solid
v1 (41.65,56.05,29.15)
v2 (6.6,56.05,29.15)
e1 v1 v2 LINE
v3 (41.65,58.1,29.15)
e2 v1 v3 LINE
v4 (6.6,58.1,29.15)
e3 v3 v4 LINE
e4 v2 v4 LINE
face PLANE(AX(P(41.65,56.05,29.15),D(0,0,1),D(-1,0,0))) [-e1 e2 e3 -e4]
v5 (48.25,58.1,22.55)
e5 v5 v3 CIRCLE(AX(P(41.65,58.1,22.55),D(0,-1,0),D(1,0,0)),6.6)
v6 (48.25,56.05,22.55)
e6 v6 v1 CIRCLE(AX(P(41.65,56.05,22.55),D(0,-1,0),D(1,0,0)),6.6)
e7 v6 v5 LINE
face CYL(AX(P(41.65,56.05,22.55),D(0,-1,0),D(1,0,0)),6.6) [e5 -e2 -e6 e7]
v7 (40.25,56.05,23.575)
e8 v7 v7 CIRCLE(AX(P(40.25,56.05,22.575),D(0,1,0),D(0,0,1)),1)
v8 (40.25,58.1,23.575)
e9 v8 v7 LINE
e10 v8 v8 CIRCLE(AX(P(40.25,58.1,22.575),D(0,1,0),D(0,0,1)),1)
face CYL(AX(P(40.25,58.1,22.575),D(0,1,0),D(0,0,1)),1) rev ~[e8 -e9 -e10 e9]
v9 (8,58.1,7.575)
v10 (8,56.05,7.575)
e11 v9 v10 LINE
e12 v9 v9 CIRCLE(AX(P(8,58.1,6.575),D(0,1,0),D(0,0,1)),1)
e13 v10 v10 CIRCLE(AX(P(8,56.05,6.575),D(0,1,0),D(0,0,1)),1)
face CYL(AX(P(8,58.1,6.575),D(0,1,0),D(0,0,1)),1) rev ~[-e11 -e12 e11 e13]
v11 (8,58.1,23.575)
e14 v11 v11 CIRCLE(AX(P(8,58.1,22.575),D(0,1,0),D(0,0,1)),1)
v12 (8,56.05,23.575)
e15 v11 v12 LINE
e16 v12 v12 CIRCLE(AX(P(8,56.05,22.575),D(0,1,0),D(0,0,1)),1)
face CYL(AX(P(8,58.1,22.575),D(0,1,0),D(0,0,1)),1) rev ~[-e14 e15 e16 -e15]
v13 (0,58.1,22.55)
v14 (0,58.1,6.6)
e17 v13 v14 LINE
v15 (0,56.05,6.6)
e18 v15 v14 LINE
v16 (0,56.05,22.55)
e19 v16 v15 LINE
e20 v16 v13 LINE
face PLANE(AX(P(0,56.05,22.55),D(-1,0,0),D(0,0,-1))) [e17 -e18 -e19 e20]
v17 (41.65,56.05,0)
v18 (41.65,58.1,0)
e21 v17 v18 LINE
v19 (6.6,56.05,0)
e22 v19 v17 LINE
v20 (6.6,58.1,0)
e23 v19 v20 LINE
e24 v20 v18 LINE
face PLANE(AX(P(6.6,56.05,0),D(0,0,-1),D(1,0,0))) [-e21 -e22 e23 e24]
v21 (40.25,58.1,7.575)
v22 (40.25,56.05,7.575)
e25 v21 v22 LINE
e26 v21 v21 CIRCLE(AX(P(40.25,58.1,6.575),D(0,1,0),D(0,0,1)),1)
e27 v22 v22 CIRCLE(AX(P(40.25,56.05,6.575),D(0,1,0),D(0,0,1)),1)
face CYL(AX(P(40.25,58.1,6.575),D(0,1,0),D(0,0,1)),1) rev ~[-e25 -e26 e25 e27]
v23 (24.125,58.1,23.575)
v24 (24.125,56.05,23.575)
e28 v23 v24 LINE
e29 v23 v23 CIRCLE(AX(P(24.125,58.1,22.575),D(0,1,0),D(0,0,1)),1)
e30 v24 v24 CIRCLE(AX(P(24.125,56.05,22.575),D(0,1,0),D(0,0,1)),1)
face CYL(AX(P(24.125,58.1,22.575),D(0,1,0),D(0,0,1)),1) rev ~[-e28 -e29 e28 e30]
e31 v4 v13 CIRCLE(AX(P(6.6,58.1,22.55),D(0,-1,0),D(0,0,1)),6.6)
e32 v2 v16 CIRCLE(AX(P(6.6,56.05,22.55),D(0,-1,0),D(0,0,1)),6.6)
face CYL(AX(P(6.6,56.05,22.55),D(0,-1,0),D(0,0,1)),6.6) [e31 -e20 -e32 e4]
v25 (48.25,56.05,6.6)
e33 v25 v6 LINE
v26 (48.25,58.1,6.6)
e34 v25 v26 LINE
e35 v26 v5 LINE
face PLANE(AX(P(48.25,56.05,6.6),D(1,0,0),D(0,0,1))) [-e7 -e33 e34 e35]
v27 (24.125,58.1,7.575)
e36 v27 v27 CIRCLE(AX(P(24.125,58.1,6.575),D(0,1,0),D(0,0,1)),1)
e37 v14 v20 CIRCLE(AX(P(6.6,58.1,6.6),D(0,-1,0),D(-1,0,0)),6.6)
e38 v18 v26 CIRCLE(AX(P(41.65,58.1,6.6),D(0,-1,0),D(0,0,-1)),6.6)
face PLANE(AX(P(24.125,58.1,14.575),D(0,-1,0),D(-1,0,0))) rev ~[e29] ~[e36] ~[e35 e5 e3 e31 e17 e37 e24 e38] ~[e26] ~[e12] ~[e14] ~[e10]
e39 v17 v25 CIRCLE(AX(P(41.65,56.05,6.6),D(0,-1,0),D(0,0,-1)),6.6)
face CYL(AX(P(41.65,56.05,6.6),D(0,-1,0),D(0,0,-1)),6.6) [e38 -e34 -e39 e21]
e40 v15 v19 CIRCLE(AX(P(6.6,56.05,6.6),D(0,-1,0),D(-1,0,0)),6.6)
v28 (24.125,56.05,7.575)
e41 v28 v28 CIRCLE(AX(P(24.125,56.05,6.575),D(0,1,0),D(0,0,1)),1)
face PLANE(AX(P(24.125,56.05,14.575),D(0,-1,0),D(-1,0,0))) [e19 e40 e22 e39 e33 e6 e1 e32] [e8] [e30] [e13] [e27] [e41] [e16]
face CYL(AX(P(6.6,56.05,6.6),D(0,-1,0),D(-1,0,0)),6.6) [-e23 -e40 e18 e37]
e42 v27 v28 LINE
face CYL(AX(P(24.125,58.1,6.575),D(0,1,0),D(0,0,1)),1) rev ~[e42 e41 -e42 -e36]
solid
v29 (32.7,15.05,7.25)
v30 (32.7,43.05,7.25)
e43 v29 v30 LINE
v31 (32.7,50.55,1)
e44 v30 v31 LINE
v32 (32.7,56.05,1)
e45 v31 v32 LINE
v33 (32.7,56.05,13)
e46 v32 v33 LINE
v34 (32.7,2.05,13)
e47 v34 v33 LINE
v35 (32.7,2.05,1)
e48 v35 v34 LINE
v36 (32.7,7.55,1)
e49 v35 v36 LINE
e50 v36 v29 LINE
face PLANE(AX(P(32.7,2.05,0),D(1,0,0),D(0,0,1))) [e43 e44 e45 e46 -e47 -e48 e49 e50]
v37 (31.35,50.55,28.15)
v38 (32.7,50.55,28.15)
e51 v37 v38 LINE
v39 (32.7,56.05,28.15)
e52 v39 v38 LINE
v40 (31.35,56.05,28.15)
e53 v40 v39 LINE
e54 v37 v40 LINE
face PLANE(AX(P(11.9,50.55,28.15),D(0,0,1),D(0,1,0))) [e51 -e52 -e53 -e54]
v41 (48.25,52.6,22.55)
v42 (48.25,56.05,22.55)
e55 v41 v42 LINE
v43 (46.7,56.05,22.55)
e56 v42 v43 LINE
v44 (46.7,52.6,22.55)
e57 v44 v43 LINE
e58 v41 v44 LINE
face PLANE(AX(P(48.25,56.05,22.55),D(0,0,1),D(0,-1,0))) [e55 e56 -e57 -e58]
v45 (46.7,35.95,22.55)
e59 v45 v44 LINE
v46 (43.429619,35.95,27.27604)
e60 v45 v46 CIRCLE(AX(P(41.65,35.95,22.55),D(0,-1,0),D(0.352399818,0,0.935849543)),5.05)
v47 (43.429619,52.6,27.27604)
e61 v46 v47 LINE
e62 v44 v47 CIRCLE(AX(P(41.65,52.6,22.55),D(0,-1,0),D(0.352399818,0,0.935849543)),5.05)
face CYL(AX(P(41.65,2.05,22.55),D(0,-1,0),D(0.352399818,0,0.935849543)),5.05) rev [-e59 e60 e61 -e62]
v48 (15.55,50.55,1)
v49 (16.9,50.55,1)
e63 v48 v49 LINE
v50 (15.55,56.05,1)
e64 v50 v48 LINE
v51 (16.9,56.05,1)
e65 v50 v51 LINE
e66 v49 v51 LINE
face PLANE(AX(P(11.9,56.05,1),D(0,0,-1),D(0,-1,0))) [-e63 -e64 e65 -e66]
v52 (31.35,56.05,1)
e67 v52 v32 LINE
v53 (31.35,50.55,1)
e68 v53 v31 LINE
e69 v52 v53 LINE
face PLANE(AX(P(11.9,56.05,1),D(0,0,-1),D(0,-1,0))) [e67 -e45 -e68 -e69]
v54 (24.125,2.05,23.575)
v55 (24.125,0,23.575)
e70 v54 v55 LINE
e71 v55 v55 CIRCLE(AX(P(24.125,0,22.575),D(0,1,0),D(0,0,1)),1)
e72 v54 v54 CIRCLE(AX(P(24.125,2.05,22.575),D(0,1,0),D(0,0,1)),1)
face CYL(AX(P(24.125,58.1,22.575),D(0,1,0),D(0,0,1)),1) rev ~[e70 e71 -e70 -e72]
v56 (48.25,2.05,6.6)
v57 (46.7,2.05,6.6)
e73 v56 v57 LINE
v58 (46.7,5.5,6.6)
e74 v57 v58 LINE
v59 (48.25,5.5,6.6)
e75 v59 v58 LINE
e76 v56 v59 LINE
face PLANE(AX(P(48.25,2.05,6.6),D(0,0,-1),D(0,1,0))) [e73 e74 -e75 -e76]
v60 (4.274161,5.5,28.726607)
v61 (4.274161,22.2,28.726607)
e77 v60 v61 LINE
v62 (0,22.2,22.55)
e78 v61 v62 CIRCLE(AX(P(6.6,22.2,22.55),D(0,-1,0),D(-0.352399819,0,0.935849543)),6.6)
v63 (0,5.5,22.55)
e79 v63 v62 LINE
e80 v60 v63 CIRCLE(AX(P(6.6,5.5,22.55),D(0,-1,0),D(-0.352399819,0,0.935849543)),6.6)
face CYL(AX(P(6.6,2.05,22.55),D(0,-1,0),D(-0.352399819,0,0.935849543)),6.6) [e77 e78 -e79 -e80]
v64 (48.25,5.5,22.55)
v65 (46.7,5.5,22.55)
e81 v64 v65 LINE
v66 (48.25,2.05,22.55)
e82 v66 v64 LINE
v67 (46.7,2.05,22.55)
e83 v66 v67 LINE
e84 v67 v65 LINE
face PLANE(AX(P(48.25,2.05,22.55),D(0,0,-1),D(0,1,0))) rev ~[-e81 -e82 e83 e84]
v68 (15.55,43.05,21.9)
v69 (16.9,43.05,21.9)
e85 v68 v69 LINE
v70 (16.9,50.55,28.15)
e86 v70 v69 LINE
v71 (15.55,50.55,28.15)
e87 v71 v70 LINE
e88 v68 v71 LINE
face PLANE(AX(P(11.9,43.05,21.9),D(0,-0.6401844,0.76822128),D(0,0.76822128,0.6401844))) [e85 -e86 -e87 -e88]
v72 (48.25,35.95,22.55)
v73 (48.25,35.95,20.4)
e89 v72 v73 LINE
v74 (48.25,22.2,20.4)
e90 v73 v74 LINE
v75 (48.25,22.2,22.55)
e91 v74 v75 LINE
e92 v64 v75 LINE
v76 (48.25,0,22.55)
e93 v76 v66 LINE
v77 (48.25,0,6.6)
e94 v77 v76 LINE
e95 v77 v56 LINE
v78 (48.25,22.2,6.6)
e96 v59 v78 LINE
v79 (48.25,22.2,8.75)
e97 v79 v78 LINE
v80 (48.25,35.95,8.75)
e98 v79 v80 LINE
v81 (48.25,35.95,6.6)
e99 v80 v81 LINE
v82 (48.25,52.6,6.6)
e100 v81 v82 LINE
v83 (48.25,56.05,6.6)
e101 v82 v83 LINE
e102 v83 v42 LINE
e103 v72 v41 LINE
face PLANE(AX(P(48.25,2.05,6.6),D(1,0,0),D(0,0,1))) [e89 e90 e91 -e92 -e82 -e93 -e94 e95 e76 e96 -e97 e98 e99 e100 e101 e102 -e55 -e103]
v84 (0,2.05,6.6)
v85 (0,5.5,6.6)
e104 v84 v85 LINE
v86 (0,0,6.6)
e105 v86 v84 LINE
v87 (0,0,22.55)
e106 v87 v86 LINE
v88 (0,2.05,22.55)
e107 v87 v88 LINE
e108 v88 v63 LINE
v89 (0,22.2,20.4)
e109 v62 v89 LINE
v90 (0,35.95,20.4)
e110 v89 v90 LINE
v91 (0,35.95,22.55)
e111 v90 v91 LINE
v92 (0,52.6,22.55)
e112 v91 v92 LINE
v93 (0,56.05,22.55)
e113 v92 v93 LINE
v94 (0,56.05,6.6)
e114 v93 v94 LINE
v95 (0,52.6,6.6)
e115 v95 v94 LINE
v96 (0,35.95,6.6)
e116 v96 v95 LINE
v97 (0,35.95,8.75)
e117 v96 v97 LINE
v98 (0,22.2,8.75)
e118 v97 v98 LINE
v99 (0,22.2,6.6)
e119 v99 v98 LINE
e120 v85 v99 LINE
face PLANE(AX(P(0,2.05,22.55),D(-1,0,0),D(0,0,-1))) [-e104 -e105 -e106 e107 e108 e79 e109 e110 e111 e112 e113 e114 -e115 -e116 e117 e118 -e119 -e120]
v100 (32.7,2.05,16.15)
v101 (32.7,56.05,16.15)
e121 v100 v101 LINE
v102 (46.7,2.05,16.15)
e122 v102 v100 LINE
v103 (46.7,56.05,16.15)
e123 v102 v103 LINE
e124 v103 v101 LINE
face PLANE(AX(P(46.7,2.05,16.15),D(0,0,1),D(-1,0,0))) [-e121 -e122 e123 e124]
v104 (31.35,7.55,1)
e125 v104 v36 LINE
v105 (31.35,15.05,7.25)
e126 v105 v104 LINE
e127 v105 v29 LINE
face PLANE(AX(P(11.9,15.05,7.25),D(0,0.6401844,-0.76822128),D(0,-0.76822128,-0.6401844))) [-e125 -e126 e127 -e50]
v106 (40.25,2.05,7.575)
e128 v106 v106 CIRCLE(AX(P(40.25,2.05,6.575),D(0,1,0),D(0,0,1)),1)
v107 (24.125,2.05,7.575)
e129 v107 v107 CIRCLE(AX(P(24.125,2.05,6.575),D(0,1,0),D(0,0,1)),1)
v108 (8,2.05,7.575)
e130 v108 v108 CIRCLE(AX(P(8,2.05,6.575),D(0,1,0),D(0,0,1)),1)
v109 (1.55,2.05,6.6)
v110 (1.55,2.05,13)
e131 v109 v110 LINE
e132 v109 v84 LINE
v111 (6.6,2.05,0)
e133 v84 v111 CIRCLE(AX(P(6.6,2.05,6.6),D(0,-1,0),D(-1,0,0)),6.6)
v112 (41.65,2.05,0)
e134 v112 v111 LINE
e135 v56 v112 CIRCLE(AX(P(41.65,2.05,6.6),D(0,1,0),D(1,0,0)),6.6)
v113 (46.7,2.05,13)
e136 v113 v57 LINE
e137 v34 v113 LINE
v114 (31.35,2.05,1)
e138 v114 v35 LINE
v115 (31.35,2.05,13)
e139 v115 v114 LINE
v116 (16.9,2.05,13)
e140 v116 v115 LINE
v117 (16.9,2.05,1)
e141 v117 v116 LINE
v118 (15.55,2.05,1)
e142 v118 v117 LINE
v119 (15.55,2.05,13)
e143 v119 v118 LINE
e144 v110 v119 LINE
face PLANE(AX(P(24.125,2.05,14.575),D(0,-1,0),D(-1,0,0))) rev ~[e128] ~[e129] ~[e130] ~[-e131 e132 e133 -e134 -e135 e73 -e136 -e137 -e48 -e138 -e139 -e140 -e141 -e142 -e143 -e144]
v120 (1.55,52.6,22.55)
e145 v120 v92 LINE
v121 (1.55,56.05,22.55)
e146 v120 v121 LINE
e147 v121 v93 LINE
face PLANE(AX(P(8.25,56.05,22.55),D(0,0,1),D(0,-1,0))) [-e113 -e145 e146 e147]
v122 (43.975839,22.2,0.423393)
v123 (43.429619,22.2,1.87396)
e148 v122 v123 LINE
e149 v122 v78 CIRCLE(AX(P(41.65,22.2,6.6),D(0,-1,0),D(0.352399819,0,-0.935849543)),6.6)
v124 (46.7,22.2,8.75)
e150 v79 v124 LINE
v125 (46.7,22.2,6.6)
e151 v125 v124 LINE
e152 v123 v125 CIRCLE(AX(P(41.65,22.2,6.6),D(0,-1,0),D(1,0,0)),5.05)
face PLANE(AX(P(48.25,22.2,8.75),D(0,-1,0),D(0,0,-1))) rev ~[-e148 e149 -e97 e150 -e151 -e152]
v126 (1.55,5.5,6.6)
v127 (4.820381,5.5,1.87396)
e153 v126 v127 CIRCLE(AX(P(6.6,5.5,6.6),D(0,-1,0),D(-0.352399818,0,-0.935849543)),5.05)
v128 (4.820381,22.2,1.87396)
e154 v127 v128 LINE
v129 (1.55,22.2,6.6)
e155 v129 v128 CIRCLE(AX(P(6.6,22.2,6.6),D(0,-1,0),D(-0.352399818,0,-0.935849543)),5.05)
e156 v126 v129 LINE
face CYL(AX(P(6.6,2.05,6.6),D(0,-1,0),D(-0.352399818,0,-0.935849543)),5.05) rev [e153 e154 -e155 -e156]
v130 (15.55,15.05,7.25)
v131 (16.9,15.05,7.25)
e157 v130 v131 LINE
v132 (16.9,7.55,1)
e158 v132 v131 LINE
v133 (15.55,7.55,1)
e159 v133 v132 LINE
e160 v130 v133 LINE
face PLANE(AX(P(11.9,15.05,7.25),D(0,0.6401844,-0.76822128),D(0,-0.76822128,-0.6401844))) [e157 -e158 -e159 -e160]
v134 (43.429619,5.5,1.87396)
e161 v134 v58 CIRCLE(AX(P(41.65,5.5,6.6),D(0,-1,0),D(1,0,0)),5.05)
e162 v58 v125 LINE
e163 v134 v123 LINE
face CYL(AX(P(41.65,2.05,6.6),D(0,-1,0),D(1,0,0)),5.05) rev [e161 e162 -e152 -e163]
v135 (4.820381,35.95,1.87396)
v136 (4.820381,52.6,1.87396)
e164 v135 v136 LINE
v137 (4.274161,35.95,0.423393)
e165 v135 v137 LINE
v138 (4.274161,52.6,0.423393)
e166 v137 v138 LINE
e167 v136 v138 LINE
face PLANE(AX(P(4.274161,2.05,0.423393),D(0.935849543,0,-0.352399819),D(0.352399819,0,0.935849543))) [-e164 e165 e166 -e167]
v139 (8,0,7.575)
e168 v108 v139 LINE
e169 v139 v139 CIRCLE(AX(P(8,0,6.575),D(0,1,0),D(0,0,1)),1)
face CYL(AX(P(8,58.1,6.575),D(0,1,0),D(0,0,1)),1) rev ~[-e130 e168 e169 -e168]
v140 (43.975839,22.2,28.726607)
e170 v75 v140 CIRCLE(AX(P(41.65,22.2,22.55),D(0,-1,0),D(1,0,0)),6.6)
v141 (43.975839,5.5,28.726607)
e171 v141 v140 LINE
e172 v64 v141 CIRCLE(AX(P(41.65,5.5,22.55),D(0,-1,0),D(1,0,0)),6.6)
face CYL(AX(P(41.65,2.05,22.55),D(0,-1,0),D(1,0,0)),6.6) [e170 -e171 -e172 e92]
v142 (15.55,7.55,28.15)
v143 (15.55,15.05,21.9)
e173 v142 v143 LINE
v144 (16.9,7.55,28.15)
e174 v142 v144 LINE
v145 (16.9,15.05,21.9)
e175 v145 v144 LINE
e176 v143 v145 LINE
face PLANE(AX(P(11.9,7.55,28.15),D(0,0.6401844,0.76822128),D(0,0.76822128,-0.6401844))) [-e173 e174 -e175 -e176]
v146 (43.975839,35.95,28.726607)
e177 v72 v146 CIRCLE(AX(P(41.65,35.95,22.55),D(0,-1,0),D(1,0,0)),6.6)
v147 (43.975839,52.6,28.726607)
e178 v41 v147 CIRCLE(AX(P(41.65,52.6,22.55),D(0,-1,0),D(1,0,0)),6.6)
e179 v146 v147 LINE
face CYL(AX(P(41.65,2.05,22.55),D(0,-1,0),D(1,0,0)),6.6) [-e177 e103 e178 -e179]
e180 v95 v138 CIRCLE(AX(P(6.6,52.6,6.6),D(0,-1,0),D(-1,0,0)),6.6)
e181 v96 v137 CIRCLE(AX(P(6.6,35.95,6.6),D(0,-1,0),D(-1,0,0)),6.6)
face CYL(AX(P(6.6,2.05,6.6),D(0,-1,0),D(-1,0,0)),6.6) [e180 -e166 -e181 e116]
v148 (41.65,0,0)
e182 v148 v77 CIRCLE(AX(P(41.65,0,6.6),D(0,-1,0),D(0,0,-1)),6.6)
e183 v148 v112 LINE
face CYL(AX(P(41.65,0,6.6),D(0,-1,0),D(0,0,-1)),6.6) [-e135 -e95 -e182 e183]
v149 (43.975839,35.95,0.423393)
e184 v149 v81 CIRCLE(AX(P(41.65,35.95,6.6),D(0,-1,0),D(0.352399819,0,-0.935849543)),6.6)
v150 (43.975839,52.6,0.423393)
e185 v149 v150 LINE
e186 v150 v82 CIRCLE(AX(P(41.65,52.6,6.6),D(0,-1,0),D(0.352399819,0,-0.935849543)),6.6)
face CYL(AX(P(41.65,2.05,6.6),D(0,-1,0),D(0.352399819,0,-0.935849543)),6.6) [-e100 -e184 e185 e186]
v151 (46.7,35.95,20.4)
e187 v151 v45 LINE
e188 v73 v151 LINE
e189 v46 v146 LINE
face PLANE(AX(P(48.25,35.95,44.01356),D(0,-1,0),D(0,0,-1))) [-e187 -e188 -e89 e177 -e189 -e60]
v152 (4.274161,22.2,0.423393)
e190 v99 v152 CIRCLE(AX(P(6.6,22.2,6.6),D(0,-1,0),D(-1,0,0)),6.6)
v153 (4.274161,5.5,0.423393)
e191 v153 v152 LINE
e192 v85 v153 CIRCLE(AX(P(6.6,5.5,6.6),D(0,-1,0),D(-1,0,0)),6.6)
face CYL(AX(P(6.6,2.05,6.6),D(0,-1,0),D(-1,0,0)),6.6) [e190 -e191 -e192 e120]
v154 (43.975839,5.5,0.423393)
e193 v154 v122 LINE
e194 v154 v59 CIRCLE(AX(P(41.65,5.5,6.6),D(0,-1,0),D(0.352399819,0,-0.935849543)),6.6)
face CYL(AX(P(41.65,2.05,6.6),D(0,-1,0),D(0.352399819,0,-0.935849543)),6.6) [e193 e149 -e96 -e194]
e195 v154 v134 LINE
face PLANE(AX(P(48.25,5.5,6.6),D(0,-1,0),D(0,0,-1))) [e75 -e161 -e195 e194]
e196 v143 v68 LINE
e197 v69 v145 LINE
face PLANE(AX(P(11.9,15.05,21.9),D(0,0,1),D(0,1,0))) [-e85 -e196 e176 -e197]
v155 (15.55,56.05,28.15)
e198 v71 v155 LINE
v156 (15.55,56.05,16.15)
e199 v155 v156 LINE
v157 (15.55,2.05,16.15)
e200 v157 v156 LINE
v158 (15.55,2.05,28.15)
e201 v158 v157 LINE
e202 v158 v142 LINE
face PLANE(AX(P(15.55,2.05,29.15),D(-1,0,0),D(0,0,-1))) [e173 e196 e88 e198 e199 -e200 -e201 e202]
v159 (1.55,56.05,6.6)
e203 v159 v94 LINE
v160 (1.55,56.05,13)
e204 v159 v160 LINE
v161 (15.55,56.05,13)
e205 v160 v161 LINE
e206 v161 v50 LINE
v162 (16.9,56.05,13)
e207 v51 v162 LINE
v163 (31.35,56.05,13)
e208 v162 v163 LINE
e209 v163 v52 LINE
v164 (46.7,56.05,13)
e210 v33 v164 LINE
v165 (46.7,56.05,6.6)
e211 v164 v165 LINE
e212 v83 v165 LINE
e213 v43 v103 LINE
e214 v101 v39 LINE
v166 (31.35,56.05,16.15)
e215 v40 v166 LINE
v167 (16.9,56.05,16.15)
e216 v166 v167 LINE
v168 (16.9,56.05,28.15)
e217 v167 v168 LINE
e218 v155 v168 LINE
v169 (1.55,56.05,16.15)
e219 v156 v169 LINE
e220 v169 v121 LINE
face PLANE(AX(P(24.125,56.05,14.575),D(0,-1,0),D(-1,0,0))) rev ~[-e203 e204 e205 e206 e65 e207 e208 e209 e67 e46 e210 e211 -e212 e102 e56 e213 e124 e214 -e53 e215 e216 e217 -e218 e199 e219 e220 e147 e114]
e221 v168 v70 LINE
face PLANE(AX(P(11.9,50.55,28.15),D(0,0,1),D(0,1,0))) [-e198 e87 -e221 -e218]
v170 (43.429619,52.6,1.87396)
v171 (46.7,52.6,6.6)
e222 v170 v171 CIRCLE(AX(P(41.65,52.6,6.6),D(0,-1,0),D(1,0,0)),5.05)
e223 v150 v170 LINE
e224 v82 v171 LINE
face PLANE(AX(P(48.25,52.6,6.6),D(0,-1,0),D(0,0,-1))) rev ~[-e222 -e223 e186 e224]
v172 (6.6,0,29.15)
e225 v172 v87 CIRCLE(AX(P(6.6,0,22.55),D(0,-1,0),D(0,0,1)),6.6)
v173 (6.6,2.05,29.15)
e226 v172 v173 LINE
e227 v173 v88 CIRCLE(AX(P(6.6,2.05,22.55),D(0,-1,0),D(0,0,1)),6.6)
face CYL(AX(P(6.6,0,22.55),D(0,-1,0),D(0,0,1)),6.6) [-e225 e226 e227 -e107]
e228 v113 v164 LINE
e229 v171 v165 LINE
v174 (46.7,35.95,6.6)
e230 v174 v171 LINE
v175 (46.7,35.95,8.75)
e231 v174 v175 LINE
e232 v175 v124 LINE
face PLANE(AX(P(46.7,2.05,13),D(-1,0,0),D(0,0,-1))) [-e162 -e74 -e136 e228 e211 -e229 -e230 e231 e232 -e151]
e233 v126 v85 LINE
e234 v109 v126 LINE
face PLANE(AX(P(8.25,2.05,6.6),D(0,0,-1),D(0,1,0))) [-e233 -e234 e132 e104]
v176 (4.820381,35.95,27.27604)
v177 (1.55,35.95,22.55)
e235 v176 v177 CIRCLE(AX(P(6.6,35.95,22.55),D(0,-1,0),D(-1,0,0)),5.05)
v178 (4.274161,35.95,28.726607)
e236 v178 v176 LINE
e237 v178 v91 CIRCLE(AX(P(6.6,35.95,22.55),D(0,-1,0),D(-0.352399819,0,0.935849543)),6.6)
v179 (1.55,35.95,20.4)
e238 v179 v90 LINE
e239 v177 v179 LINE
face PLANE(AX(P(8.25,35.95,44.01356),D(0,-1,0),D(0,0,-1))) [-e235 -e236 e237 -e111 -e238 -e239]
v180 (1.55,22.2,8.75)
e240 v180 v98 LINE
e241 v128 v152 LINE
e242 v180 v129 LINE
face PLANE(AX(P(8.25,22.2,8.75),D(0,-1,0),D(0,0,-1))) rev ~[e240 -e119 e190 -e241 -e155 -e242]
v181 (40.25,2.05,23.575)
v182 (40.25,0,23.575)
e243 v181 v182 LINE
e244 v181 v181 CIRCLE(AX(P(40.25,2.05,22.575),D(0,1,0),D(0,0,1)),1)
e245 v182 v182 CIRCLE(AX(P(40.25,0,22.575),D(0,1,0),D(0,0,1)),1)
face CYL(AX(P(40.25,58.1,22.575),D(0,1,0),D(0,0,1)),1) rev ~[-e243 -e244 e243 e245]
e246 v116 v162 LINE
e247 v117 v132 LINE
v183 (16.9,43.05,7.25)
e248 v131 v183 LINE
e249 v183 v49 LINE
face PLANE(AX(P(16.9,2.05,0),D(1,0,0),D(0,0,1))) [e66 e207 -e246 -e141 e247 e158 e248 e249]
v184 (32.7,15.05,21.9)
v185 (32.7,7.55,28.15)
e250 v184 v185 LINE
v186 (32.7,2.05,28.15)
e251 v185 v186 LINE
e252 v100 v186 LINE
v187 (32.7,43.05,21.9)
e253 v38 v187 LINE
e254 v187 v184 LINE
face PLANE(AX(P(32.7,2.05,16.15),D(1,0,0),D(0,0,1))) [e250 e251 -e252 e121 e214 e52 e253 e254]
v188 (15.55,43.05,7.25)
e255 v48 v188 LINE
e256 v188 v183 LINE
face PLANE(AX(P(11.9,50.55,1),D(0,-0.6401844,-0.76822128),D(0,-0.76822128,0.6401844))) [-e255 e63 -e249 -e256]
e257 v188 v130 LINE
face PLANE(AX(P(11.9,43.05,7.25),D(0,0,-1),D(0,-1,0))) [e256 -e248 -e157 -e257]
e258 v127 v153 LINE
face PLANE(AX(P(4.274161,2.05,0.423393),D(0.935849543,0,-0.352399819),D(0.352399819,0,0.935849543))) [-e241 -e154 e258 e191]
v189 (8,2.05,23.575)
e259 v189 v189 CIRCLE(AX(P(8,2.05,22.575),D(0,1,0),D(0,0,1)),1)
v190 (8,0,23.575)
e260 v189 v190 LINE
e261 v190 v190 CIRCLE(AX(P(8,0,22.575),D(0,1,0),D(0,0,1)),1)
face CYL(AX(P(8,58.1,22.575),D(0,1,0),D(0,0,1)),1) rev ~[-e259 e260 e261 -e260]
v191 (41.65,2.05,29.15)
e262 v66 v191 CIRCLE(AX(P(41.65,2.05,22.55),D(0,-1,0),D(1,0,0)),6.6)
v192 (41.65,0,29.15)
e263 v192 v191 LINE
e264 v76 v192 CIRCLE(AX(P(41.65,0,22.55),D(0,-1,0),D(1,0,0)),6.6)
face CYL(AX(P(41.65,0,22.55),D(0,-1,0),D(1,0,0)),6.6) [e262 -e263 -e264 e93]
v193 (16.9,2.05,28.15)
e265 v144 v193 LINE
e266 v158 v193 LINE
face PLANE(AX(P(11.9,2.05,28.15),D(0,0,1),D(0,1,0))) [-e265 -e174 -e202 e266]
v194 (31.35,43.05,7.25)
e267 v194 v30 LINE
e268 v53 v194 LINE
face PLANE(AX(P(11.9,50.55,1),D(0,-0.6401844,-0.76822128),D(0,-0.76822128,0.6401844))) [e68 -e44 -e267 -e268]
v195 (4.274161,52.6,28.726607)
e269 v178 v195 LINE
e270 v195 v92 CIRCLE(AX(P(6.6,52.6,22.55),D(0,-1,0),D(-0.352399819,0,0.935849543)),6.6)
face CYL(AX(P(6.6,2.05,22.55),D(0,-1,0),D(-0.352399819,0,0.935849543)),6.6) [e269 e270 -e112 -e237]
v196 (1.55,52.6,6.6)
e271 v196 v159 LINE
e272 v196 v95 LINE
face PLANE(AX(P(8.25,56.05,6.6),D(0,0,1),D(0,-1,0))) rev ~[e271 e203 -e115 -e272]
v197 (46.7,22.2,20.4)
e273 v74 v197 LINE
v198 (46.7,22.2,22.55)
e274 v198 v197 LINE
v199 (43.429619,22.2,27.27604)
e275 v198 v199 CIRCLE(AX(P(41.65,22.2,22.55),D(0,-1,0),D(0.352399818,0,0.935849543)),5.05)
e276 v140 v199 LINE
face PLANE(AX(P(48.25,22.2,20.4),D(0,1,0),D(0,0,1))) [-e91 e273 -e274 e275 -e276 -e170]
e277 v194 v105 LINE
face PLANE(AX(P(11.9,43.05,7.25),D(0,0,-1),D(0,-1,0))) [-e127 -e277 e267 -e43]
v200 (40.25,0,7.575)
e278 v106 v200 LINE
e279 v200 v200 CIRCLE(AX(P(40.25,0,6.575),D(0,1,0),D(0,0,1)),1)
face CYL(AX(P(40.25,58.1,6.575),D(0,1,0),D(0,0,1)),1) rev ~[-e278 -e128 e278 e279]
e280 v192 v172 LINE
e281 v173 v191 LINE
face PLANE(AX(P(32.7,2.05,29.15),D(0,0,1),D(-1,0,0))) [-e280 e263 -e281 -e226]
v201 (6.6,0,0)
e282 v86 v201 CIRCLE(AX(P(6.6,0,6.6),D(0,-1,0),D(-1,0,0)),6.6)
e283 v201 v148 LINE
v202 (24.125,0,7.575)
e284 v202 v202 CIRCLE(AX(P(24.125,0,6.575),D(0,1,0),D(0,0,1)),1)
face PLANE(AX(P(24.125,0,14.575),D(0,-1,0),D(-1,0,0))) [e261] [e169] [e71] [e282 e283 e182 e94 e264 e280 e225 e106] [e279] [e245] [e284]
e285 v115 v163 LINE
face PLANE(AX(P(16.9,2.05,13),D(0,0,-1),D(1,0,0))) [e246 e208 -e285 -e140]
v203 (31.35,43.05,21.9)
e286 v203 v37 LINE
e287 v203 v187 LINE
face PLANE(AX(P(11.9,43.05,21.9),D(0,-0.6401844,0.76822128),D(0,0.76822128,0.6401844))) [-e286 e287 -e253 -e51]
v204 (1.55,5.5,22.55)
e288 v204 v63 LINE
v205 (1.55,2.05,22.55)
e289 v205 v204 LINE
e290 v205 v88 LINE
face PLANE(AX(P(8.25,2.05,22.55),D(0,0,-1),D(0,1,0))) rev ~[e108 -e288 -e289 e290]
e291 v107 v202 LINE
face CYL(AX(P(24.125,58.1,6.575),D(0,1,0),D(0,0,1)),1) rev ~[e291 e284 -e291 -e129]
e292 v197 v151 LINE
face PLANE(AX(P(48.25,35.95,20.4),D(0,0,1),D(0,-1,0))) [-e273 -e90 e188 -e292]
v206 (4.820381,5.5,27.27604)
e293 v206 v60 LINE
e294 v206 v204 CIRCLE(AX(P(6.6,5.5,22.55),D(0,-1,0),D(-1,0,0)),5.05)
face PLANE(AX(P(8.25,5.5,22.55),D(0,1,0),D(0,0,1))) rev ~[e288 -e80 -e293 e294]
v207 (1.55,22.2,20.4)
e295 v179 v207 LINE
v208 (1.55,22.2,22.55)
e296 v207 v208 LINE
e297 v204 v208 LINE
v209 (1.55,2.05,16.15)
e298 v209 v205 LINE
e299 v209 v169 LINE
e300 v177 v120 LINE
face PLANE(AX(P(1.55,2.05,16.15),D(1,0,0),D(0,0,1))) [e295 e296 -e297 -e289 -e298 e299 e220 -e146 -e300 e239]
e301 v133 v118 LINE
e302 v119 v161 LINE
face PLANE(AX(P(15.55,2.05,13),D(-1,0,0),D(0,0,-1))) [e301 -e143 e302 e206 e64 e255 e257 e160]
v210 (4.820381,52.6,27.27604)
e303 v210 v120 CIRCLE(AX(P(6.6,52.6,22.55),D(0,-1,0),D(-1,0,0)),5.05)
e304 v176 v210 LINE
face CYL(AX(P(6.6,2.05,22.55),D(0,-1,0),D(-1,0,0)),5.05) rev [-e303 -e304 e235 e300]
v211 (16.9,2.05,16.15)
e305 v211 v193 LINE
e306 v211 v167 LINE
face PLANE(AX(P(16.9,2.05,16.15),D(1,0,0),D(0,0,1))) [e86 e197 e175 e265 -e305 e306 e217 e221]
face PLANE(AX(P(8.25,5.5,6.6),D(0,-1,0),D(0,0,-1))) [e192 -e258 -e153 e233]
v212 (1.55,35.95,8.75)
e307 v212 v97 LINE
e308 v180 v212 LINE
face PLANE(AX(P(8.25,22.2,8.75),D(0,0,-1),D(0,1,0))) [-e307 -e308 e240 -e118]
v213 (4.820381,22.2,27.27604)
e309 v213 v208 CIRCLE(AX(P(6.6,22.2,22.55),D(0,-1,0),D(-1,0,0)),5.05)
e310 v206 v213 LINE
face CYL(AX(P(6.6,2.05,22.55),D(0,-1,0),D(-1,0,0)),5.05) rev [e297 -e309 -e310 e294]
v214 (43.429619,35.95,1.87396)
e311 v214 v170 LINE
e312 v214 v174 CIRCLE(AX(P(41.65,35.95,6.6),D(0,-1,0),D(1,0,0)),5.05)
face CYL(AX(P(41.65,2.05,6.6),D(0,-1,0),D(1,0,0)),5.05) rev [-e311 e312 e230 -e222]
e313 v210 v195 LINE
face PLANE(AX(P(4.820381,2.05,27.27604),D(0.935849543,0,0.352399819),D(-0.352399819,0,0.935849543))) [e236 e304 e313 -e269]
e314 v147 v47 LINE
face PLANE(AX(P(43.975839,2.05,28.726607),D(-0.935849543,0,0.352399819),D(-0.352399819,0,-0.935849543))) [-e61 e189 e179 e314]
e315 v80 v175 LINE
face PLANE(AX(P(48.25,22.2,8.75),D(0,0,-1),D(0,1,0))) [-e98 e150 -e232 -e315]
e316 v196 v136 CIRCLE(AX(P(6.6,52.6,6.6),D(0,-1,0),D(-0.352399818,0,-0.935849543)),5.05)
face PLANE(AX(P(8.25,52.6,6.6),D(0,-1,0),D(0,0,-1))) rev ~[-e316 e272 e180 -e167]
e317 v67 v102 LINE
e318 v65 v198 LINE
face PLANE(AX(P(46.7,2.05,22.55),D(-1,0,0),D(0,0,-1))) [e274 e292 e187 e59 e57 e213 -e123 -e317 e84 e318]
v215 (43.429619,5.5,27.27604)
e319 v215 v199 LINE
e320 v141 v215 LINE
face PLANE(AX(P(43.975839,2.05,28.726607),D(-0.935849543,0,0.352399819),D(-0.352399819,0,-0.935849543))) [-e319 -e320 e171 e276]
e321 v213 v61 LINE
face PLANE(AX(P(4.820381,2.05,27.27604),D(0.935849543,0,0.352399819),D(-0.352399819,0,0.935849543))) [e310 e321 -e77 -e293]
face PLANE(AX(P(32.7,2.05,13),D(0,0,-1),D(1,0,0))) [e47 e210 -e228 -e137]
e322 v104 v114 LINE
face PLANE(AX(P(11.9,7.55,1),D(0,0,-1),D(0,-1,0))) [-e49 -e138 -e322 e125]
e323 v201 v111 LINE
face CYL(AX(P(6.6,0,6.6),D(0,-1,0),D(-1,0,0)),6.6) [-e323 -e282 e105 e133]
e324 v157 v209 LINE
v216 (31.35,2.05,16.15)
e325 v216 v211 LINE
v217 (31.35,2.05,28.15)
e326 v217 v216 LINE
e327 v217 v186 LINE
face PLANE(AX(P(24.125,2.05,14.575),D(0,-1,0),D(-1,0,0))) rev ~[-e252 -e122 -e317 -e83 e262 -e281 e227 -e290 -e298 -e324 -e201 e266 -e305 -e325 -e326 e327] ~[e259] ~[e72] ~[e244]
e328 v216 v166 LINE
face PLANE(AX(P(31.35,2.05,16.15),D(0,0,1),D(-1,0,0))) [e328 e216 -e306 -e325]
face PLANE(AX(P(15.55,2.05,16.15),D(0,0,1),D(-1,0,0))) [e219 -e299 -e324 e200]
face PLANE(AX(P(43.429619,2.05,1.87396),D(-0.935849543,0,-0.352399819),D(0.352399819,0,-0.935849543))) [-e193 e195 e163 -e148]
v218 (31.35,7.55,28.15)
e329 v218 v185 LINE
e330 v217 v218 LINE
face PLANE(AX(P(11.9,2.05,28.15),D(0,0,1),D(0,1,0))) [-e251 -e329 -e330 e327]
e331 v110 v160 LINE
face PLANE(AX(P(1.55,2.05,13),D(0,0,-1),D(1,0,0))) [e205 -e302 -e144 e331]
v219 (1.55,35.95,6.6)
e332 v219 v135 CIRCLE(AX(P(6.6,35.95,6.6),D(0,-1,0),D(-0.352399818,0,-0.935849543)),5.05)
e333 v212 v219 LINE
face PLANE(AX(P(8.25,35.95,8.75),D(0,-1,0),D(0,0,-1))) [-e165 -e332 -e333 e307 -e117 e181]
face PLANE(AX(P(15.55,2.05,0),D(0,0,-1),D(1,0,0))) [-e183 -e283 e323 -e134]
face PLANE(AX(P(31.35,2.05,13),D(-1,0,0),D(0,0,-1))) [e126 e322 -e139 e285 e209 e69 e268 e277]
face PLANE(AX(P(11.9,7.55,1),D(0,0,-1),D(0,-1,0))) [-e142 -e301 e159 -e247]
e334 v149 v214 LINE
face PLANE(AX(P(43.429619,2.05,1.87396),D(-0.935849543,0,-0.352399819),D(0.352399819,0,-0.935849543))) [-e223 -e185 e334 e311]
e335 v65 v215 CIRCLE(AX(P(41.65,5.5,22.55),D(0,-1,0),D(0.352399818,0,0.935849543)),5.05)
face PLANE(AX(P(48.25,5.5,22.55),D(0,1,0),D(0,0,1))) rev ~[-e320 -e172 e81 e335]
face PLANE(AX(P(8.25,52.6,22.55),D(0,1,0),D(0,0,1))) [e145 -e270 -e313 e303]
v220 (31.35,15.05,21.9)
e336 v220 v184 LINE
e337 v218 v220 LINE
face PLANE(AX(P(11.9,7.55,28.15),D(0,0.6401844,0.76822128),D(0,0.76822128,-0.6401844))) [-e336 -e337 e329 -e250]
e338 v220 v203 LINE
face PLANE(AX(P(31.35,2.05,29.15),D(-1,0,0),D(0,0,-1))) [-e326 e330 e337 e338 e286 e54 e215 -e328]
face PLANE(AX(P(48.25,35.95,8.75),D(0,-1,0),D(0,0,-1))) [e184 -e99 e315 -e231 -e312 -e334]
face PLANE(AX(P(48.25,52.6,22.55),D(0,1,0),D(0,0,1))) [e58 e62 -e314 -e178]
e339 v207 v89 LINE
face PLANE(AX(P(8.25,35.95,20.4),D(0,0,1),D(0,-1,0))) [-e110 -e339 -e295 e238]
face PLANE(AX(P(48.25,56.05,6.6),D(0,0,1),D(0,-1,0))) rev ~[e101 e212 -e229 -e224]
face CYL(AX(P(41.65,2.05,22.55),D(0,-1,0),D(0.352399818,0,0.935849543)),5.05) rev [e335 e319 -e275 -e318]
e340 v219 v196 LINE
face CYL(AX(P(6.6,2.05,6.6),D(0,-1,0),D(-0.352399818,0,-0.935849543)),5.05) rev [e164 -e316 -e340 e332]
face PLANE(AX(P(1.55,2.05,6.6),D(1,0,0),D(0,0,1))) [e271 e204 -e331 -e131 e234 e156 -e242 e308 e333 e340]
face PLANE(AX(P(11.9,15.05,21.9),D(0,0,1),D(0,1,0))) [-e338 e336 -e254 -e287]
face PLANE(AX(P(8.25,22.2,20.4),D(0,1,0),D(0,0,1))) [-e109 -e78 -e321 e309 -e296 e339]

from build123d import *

# Parameters (mm, degrees)
BOSS_EXTRUDE1_DEPTH     = 2.05
BOSS_EXTRUDE2_DEPTH     = 54
BOSS_EXTRUDE9_START     = 56.05
BOSS_EXTRUDE9_DEPTH     = 2.05
SKETCH3_W               = 23.613559859
SKETCH3_H               = 13.75
CUT_EXTRUDE2_DEPTH      = 12.5
CUT_EXTRUDE4_START      = -40
SKETCH3_2_W             = 23.613559859
SKETCH3_2_H             = 13.75
CUT_EXTRUDE4_DEPTH      = 12.5
CUT_EXTRUDE5_DEPTH      = 22.5
CUT_EXTRUDE5_DEPTH_BACK = 5
SKETCH8_R               = 1
CUT_EXTRUDE6_DEPTH      = 85


with BuildPart() as part:
    # Sketch1 → Boss-Extrude1 (new body)
    with BuildSketch(Plane(origin=(0, 0, 0), x_dir=(1, 0, 0), z_dir=(0, 1, 0))):
        with BuildLine():
            Line((6.6, 0), (41.65, 0))
            ThreePointArc((41.65, 0), (46.316904756, -1.933095244), (48.25, -6.6))
            Line((48.25, -6.6), (48.25, -22.55))
            ThreePointArc((48.25, -22.55), (46.316904756, -27.216904756), (41.65, -29.15))
            Line((41.65, -29.15), (6.6, -29.15))
            ThreePointArc((6.6, -29.15), (1.933095244, -27.216904756), (0, -22.55))
            Line((0, -22.55), (0, -6.6))
            ThreePointArc((0, -6.6), (1.933095244, -1.933095244), (6.6, 0))
        make_face()
    extrude(amount=BOSS_EXTRUDE1_DEPTH)

    # Sketch2 → Boss-Extrude2 (add)
    with BuildSketch(Plane(origin=(0, 2.05, 0), x_dir=(1, 0, 0), z_dir=(0, 1, 0))):
        with BuildLine():
            Line((16.9, -13), (31.35, -13))
            Line((31.35, -13), (31.35, 0))
            Line((31.35, 0), (32.7, 0))
            Line((32.7, 0), (32.7, -13))
            Line((32.7, -13), (46.7, -13))
            Line((46.7, -13), (46.7, -6.6))
            ThreePointArc((46.7, -6.6), (45.802684456, -3.726376536), (43.429619084, -1.873959806))
            Line((43.429619084, -1.873959806), (43.975838803, -0.423393014))
            ThreePointArc((43.975838803, -0.423393014), (47.077270774, -2.844373295), (48.25, -6.6))
            Line((48.25, -6.6), (48.25, -13))
            Line((48.25, -13), (48.25, -16.15))
            Line((48.25, -16.15), (48.25, -22.55))
            ThreePointArc((48.25, -22.55), (47.077270774, -26.305626705), (43.975838803, -28.726606986))
            Line((43.975838803, -28.726606986), (43.429619084, -27.276040194))
            ThreePointArc((43.429619084, -27.276040194), (45.802684456, -25.423623464), (46.7, -22.55))
            Line((46.7, -22.55), (46.7, -16.15))
            Line((46.7, -16.15), (32.7, -16.15))
            Line((32.7, -16.15), (32.7, -29.15))
            Line((32.7, -29.15), (31.35, -29.15))
            Line((31.35, -29.15), (31.35, -16.15))
            Line((31.35, -16.15), (16.9, -16.15))
            Line((16.9, -16.15), (16.9, -29.15))
            Line((16.9, -29.15), (15.55, -29.15))
            Line((15.55, -29.15), (15.55, -16.15))
            Line((15.55, -16.15), (1.55, -16.15))
            Line((1.55, -16.15), (1.55, -22.55))
            ThreePointArc((1.55, -22.55), (2.447315544, -25.423623464), (4.820380916, -27.276040194))
            Line((4.820380916, -27.276040194), (4.274161197, -28.726606986))
            ThreePointArc((4.274161197, -28.726606986), (1.172729226, -26.305626705), (0, -22.55))
            Line((0, -22.55), (0, -16.15))
            Line((0, -16.15), (0, -13))
            Line((0, -13), (0, -6.6))
            ThreePointArc((0, -6.6), (1.172729226, -2.844373295), (4.274161197, -0.423393014))
            Line((4.274161197, -0.423393014), (4.820380916, -1.873959806))
            ThreePointArc((4.820380916, -1.873959806), (2.447315544, -3.726376536), (1.55, -6.6))
            Line((1.55, -6.6), (1.55, -13))
            Line((1.55, -13), (15.55, -13))
            Line((15.55, -13), (15.55, 0))
            Line((15.55, 0), (16.9, 0))
            Line((16.9, 0), (16.9, -13))
        make_face()
    extrude(amount=BOSS_EXTRUDE2_DEPTH)

    # Sketch3 → Cut-Extrude2 (cut)
    with BuildSketch(Plane(origin=(48.25, 0, 0), x_dir=(0, 0, -1), z_dir=(1, 0, 0))):
        Polygon((-6.6, 56.05), (-6.6, 52.6), (7.429897114, 52.6), (10.879897114, 56.05), align=None)
        with Locations((3.05677993, 29.075)):
            Rectangle(SKETCH3_W, SKETCH3_H)
        Polygon((10.879897114, 2.05), (-6.6, 2.05), (-6.6, 5.5), (7.429897114, 5.5), align=None)
        Polygon((-22.55, 2.05), (-22.55, 5.5), (-36.579897114, 5.5), (-40.029897114, 2.05), align=None)
        Polygon((-40.029897114, 56.05), (-22.55, 56.05), (-22.55, 52.6), (-36.579897114, 52.6), align=None)
        Polygon((-20.4, 22.2), (-42.823196098, 22.2), (-44.013559859, 35.95), (-20.4, 35.95), align=None)
    extrude(amount=-CUT_EXTRUDE2_DEPTH, mode=Mode.SUBTRACT)

    # Sketch3<2> → Cut-Extrude4 (cut)
    with BuildSketch(Plane(origin=(48.25, 0, 0), x_dir=(0, 0, -1), z_dir=(1, 0, 0)).offset(CUT_EXTRUDE4_START)):
        Polygon((-6.6, 56.05), (-6.6, 52.6), (7.429897114, 52.6), (10.879897114, 56.05), align=None)
        with Locations((3.05677993, 29.075)):
            Rectangle(SKETCH3_2_W, SKETCH3_2_H)
        Polygon((10.879897114, 2.05), (-6.6, 2.05), (-6.6, 5.5), (7.429897114, 5.5), align=None)
        Polygon((-22.55, 2.05), (-22.55, 5.5), (-36.579897114, 5.5), (-40.029897114, 2.05), align=None)
        Polygon((-40.029897114, 56.05), (-22.55, 56.05), (-22.55, 52.6), (-36.579897114, 52.6), align=None)
        Polygon((-20.4, 22.2), (-42.823196098, 22.2), (-44.013559859, 35.95), (-20.4, 35.95), align=None)
    extrude(amount=-CUT_EXTRUDE4_DEPTH, mode=Mode.SUBTRACT)

    # Sketch4 → Cut-Extrude5 (cut, two sides: drawn at the far end of the back side and taken through both)
    with BuildSketch(Plane(origin=(16.9, 0, 0), x_dir=(0, 0, -1), z_dir=(1, 0, 0)).offset(-CUT_EXTRUDE5_DEPTH_BACK)):
        Polygon((-29.15, 2.05), (-28.15, 2.05), (-28.15, 7.55), (-21.9, 15.05), (-21.9, 43.05), (-28.15, 50.55), (-28.15, 56.05), (-29.15, 56.05), align=None)
        Polygon((0, 56.05), (-1, 56.05), (-1, 50.55), (-7.25, 43.05), (-7.25, 15.05), (-1, 7.55), (-1, 2.05), (0, 2.05), align=None)
    extrude(amount=CUT_EXTRUDE5_DEPTH + CUT_EXTRUDE5_DEPTH_BACK, mode=Mode.SUBTRACT)


with BuildPart() as body_2:
    # Sketch1<6> → Boss-Extrude9 (new body)
    with BuildSketch(Plane(origin=(0, 0, 0), x_dir=(1, 0, 0), z_dir=(0, 1, 0)).offset(BOSS_EXTRUDE9_START)):
        with BuildLine():
            Line((6.6, 0), (41.65, 0))
            ThreePointArc((41.65, 0), (46.316904756, -1.933095244), (48.25, -6.6))
            Line((48.25, -6.6), (48.25, -22.55))
            ThreePointArc((48.25, -22.55), (46.316904756, -27.216904756), (41.65, -29.15))
            Line((41.65, -29.15), (6.6, -29.15))
            ThreePointArc((6.6, -29.15), (1.933095244, -27.216904756), (0, -22.55))
            Line((0, -22.55), (0, -6.6))
            ThreePointArc((0, -6.6), (1.933095244, -1.933095244), (6.6, 0))
        make_face()
    extrude(amount=BOSS_EXTRUDE9_DEPTH)


with BuildPart() as cut_extrude6_tool:
    # Sketch8 → Cut-Extrude6 (new body)
    with BuildSketch(Plane(origin=(0, 58.1, 0), x_dir=(1, 0, 0), z_dir=(0, 1, 0))):
        with Locations((8, -6.575)):
            Circle(SKETCH8_R)
        with Locations((24.125, -6.575)):
            Circle(SKETCH8_R)
        with Locations((40.25, -6.575)):
            Circle(SKETCH8_R)
        with Locations((40.25, -22.575)):
            Circle(SKETCH8_R)
        with Locations((24.125, -22.575)):
            Circle(SKETCH8_R)
        with Locations((8, -22.575)):
            Circle(SKETCH8_R)
    extrude(amount=-CUT_EXTRUDE6_DEPTH)


with BuildPart() as part_1:
    add(part.part)

    # Cut-Extrude6: cut by cut_extrude6_tool
    add(cut_extrude6_tool.part, mode=Mode.SUBTRACT)


with BuildPart() as body_2_1:
    add(body_2.part)

    # Cut-Extrude6: cut by cut_extrude6_tool
    add(cut_extrude6_tool.part, mode=Mode.SUBTRACT)


solid = Compound([part_1.part, body_2_1.part])
